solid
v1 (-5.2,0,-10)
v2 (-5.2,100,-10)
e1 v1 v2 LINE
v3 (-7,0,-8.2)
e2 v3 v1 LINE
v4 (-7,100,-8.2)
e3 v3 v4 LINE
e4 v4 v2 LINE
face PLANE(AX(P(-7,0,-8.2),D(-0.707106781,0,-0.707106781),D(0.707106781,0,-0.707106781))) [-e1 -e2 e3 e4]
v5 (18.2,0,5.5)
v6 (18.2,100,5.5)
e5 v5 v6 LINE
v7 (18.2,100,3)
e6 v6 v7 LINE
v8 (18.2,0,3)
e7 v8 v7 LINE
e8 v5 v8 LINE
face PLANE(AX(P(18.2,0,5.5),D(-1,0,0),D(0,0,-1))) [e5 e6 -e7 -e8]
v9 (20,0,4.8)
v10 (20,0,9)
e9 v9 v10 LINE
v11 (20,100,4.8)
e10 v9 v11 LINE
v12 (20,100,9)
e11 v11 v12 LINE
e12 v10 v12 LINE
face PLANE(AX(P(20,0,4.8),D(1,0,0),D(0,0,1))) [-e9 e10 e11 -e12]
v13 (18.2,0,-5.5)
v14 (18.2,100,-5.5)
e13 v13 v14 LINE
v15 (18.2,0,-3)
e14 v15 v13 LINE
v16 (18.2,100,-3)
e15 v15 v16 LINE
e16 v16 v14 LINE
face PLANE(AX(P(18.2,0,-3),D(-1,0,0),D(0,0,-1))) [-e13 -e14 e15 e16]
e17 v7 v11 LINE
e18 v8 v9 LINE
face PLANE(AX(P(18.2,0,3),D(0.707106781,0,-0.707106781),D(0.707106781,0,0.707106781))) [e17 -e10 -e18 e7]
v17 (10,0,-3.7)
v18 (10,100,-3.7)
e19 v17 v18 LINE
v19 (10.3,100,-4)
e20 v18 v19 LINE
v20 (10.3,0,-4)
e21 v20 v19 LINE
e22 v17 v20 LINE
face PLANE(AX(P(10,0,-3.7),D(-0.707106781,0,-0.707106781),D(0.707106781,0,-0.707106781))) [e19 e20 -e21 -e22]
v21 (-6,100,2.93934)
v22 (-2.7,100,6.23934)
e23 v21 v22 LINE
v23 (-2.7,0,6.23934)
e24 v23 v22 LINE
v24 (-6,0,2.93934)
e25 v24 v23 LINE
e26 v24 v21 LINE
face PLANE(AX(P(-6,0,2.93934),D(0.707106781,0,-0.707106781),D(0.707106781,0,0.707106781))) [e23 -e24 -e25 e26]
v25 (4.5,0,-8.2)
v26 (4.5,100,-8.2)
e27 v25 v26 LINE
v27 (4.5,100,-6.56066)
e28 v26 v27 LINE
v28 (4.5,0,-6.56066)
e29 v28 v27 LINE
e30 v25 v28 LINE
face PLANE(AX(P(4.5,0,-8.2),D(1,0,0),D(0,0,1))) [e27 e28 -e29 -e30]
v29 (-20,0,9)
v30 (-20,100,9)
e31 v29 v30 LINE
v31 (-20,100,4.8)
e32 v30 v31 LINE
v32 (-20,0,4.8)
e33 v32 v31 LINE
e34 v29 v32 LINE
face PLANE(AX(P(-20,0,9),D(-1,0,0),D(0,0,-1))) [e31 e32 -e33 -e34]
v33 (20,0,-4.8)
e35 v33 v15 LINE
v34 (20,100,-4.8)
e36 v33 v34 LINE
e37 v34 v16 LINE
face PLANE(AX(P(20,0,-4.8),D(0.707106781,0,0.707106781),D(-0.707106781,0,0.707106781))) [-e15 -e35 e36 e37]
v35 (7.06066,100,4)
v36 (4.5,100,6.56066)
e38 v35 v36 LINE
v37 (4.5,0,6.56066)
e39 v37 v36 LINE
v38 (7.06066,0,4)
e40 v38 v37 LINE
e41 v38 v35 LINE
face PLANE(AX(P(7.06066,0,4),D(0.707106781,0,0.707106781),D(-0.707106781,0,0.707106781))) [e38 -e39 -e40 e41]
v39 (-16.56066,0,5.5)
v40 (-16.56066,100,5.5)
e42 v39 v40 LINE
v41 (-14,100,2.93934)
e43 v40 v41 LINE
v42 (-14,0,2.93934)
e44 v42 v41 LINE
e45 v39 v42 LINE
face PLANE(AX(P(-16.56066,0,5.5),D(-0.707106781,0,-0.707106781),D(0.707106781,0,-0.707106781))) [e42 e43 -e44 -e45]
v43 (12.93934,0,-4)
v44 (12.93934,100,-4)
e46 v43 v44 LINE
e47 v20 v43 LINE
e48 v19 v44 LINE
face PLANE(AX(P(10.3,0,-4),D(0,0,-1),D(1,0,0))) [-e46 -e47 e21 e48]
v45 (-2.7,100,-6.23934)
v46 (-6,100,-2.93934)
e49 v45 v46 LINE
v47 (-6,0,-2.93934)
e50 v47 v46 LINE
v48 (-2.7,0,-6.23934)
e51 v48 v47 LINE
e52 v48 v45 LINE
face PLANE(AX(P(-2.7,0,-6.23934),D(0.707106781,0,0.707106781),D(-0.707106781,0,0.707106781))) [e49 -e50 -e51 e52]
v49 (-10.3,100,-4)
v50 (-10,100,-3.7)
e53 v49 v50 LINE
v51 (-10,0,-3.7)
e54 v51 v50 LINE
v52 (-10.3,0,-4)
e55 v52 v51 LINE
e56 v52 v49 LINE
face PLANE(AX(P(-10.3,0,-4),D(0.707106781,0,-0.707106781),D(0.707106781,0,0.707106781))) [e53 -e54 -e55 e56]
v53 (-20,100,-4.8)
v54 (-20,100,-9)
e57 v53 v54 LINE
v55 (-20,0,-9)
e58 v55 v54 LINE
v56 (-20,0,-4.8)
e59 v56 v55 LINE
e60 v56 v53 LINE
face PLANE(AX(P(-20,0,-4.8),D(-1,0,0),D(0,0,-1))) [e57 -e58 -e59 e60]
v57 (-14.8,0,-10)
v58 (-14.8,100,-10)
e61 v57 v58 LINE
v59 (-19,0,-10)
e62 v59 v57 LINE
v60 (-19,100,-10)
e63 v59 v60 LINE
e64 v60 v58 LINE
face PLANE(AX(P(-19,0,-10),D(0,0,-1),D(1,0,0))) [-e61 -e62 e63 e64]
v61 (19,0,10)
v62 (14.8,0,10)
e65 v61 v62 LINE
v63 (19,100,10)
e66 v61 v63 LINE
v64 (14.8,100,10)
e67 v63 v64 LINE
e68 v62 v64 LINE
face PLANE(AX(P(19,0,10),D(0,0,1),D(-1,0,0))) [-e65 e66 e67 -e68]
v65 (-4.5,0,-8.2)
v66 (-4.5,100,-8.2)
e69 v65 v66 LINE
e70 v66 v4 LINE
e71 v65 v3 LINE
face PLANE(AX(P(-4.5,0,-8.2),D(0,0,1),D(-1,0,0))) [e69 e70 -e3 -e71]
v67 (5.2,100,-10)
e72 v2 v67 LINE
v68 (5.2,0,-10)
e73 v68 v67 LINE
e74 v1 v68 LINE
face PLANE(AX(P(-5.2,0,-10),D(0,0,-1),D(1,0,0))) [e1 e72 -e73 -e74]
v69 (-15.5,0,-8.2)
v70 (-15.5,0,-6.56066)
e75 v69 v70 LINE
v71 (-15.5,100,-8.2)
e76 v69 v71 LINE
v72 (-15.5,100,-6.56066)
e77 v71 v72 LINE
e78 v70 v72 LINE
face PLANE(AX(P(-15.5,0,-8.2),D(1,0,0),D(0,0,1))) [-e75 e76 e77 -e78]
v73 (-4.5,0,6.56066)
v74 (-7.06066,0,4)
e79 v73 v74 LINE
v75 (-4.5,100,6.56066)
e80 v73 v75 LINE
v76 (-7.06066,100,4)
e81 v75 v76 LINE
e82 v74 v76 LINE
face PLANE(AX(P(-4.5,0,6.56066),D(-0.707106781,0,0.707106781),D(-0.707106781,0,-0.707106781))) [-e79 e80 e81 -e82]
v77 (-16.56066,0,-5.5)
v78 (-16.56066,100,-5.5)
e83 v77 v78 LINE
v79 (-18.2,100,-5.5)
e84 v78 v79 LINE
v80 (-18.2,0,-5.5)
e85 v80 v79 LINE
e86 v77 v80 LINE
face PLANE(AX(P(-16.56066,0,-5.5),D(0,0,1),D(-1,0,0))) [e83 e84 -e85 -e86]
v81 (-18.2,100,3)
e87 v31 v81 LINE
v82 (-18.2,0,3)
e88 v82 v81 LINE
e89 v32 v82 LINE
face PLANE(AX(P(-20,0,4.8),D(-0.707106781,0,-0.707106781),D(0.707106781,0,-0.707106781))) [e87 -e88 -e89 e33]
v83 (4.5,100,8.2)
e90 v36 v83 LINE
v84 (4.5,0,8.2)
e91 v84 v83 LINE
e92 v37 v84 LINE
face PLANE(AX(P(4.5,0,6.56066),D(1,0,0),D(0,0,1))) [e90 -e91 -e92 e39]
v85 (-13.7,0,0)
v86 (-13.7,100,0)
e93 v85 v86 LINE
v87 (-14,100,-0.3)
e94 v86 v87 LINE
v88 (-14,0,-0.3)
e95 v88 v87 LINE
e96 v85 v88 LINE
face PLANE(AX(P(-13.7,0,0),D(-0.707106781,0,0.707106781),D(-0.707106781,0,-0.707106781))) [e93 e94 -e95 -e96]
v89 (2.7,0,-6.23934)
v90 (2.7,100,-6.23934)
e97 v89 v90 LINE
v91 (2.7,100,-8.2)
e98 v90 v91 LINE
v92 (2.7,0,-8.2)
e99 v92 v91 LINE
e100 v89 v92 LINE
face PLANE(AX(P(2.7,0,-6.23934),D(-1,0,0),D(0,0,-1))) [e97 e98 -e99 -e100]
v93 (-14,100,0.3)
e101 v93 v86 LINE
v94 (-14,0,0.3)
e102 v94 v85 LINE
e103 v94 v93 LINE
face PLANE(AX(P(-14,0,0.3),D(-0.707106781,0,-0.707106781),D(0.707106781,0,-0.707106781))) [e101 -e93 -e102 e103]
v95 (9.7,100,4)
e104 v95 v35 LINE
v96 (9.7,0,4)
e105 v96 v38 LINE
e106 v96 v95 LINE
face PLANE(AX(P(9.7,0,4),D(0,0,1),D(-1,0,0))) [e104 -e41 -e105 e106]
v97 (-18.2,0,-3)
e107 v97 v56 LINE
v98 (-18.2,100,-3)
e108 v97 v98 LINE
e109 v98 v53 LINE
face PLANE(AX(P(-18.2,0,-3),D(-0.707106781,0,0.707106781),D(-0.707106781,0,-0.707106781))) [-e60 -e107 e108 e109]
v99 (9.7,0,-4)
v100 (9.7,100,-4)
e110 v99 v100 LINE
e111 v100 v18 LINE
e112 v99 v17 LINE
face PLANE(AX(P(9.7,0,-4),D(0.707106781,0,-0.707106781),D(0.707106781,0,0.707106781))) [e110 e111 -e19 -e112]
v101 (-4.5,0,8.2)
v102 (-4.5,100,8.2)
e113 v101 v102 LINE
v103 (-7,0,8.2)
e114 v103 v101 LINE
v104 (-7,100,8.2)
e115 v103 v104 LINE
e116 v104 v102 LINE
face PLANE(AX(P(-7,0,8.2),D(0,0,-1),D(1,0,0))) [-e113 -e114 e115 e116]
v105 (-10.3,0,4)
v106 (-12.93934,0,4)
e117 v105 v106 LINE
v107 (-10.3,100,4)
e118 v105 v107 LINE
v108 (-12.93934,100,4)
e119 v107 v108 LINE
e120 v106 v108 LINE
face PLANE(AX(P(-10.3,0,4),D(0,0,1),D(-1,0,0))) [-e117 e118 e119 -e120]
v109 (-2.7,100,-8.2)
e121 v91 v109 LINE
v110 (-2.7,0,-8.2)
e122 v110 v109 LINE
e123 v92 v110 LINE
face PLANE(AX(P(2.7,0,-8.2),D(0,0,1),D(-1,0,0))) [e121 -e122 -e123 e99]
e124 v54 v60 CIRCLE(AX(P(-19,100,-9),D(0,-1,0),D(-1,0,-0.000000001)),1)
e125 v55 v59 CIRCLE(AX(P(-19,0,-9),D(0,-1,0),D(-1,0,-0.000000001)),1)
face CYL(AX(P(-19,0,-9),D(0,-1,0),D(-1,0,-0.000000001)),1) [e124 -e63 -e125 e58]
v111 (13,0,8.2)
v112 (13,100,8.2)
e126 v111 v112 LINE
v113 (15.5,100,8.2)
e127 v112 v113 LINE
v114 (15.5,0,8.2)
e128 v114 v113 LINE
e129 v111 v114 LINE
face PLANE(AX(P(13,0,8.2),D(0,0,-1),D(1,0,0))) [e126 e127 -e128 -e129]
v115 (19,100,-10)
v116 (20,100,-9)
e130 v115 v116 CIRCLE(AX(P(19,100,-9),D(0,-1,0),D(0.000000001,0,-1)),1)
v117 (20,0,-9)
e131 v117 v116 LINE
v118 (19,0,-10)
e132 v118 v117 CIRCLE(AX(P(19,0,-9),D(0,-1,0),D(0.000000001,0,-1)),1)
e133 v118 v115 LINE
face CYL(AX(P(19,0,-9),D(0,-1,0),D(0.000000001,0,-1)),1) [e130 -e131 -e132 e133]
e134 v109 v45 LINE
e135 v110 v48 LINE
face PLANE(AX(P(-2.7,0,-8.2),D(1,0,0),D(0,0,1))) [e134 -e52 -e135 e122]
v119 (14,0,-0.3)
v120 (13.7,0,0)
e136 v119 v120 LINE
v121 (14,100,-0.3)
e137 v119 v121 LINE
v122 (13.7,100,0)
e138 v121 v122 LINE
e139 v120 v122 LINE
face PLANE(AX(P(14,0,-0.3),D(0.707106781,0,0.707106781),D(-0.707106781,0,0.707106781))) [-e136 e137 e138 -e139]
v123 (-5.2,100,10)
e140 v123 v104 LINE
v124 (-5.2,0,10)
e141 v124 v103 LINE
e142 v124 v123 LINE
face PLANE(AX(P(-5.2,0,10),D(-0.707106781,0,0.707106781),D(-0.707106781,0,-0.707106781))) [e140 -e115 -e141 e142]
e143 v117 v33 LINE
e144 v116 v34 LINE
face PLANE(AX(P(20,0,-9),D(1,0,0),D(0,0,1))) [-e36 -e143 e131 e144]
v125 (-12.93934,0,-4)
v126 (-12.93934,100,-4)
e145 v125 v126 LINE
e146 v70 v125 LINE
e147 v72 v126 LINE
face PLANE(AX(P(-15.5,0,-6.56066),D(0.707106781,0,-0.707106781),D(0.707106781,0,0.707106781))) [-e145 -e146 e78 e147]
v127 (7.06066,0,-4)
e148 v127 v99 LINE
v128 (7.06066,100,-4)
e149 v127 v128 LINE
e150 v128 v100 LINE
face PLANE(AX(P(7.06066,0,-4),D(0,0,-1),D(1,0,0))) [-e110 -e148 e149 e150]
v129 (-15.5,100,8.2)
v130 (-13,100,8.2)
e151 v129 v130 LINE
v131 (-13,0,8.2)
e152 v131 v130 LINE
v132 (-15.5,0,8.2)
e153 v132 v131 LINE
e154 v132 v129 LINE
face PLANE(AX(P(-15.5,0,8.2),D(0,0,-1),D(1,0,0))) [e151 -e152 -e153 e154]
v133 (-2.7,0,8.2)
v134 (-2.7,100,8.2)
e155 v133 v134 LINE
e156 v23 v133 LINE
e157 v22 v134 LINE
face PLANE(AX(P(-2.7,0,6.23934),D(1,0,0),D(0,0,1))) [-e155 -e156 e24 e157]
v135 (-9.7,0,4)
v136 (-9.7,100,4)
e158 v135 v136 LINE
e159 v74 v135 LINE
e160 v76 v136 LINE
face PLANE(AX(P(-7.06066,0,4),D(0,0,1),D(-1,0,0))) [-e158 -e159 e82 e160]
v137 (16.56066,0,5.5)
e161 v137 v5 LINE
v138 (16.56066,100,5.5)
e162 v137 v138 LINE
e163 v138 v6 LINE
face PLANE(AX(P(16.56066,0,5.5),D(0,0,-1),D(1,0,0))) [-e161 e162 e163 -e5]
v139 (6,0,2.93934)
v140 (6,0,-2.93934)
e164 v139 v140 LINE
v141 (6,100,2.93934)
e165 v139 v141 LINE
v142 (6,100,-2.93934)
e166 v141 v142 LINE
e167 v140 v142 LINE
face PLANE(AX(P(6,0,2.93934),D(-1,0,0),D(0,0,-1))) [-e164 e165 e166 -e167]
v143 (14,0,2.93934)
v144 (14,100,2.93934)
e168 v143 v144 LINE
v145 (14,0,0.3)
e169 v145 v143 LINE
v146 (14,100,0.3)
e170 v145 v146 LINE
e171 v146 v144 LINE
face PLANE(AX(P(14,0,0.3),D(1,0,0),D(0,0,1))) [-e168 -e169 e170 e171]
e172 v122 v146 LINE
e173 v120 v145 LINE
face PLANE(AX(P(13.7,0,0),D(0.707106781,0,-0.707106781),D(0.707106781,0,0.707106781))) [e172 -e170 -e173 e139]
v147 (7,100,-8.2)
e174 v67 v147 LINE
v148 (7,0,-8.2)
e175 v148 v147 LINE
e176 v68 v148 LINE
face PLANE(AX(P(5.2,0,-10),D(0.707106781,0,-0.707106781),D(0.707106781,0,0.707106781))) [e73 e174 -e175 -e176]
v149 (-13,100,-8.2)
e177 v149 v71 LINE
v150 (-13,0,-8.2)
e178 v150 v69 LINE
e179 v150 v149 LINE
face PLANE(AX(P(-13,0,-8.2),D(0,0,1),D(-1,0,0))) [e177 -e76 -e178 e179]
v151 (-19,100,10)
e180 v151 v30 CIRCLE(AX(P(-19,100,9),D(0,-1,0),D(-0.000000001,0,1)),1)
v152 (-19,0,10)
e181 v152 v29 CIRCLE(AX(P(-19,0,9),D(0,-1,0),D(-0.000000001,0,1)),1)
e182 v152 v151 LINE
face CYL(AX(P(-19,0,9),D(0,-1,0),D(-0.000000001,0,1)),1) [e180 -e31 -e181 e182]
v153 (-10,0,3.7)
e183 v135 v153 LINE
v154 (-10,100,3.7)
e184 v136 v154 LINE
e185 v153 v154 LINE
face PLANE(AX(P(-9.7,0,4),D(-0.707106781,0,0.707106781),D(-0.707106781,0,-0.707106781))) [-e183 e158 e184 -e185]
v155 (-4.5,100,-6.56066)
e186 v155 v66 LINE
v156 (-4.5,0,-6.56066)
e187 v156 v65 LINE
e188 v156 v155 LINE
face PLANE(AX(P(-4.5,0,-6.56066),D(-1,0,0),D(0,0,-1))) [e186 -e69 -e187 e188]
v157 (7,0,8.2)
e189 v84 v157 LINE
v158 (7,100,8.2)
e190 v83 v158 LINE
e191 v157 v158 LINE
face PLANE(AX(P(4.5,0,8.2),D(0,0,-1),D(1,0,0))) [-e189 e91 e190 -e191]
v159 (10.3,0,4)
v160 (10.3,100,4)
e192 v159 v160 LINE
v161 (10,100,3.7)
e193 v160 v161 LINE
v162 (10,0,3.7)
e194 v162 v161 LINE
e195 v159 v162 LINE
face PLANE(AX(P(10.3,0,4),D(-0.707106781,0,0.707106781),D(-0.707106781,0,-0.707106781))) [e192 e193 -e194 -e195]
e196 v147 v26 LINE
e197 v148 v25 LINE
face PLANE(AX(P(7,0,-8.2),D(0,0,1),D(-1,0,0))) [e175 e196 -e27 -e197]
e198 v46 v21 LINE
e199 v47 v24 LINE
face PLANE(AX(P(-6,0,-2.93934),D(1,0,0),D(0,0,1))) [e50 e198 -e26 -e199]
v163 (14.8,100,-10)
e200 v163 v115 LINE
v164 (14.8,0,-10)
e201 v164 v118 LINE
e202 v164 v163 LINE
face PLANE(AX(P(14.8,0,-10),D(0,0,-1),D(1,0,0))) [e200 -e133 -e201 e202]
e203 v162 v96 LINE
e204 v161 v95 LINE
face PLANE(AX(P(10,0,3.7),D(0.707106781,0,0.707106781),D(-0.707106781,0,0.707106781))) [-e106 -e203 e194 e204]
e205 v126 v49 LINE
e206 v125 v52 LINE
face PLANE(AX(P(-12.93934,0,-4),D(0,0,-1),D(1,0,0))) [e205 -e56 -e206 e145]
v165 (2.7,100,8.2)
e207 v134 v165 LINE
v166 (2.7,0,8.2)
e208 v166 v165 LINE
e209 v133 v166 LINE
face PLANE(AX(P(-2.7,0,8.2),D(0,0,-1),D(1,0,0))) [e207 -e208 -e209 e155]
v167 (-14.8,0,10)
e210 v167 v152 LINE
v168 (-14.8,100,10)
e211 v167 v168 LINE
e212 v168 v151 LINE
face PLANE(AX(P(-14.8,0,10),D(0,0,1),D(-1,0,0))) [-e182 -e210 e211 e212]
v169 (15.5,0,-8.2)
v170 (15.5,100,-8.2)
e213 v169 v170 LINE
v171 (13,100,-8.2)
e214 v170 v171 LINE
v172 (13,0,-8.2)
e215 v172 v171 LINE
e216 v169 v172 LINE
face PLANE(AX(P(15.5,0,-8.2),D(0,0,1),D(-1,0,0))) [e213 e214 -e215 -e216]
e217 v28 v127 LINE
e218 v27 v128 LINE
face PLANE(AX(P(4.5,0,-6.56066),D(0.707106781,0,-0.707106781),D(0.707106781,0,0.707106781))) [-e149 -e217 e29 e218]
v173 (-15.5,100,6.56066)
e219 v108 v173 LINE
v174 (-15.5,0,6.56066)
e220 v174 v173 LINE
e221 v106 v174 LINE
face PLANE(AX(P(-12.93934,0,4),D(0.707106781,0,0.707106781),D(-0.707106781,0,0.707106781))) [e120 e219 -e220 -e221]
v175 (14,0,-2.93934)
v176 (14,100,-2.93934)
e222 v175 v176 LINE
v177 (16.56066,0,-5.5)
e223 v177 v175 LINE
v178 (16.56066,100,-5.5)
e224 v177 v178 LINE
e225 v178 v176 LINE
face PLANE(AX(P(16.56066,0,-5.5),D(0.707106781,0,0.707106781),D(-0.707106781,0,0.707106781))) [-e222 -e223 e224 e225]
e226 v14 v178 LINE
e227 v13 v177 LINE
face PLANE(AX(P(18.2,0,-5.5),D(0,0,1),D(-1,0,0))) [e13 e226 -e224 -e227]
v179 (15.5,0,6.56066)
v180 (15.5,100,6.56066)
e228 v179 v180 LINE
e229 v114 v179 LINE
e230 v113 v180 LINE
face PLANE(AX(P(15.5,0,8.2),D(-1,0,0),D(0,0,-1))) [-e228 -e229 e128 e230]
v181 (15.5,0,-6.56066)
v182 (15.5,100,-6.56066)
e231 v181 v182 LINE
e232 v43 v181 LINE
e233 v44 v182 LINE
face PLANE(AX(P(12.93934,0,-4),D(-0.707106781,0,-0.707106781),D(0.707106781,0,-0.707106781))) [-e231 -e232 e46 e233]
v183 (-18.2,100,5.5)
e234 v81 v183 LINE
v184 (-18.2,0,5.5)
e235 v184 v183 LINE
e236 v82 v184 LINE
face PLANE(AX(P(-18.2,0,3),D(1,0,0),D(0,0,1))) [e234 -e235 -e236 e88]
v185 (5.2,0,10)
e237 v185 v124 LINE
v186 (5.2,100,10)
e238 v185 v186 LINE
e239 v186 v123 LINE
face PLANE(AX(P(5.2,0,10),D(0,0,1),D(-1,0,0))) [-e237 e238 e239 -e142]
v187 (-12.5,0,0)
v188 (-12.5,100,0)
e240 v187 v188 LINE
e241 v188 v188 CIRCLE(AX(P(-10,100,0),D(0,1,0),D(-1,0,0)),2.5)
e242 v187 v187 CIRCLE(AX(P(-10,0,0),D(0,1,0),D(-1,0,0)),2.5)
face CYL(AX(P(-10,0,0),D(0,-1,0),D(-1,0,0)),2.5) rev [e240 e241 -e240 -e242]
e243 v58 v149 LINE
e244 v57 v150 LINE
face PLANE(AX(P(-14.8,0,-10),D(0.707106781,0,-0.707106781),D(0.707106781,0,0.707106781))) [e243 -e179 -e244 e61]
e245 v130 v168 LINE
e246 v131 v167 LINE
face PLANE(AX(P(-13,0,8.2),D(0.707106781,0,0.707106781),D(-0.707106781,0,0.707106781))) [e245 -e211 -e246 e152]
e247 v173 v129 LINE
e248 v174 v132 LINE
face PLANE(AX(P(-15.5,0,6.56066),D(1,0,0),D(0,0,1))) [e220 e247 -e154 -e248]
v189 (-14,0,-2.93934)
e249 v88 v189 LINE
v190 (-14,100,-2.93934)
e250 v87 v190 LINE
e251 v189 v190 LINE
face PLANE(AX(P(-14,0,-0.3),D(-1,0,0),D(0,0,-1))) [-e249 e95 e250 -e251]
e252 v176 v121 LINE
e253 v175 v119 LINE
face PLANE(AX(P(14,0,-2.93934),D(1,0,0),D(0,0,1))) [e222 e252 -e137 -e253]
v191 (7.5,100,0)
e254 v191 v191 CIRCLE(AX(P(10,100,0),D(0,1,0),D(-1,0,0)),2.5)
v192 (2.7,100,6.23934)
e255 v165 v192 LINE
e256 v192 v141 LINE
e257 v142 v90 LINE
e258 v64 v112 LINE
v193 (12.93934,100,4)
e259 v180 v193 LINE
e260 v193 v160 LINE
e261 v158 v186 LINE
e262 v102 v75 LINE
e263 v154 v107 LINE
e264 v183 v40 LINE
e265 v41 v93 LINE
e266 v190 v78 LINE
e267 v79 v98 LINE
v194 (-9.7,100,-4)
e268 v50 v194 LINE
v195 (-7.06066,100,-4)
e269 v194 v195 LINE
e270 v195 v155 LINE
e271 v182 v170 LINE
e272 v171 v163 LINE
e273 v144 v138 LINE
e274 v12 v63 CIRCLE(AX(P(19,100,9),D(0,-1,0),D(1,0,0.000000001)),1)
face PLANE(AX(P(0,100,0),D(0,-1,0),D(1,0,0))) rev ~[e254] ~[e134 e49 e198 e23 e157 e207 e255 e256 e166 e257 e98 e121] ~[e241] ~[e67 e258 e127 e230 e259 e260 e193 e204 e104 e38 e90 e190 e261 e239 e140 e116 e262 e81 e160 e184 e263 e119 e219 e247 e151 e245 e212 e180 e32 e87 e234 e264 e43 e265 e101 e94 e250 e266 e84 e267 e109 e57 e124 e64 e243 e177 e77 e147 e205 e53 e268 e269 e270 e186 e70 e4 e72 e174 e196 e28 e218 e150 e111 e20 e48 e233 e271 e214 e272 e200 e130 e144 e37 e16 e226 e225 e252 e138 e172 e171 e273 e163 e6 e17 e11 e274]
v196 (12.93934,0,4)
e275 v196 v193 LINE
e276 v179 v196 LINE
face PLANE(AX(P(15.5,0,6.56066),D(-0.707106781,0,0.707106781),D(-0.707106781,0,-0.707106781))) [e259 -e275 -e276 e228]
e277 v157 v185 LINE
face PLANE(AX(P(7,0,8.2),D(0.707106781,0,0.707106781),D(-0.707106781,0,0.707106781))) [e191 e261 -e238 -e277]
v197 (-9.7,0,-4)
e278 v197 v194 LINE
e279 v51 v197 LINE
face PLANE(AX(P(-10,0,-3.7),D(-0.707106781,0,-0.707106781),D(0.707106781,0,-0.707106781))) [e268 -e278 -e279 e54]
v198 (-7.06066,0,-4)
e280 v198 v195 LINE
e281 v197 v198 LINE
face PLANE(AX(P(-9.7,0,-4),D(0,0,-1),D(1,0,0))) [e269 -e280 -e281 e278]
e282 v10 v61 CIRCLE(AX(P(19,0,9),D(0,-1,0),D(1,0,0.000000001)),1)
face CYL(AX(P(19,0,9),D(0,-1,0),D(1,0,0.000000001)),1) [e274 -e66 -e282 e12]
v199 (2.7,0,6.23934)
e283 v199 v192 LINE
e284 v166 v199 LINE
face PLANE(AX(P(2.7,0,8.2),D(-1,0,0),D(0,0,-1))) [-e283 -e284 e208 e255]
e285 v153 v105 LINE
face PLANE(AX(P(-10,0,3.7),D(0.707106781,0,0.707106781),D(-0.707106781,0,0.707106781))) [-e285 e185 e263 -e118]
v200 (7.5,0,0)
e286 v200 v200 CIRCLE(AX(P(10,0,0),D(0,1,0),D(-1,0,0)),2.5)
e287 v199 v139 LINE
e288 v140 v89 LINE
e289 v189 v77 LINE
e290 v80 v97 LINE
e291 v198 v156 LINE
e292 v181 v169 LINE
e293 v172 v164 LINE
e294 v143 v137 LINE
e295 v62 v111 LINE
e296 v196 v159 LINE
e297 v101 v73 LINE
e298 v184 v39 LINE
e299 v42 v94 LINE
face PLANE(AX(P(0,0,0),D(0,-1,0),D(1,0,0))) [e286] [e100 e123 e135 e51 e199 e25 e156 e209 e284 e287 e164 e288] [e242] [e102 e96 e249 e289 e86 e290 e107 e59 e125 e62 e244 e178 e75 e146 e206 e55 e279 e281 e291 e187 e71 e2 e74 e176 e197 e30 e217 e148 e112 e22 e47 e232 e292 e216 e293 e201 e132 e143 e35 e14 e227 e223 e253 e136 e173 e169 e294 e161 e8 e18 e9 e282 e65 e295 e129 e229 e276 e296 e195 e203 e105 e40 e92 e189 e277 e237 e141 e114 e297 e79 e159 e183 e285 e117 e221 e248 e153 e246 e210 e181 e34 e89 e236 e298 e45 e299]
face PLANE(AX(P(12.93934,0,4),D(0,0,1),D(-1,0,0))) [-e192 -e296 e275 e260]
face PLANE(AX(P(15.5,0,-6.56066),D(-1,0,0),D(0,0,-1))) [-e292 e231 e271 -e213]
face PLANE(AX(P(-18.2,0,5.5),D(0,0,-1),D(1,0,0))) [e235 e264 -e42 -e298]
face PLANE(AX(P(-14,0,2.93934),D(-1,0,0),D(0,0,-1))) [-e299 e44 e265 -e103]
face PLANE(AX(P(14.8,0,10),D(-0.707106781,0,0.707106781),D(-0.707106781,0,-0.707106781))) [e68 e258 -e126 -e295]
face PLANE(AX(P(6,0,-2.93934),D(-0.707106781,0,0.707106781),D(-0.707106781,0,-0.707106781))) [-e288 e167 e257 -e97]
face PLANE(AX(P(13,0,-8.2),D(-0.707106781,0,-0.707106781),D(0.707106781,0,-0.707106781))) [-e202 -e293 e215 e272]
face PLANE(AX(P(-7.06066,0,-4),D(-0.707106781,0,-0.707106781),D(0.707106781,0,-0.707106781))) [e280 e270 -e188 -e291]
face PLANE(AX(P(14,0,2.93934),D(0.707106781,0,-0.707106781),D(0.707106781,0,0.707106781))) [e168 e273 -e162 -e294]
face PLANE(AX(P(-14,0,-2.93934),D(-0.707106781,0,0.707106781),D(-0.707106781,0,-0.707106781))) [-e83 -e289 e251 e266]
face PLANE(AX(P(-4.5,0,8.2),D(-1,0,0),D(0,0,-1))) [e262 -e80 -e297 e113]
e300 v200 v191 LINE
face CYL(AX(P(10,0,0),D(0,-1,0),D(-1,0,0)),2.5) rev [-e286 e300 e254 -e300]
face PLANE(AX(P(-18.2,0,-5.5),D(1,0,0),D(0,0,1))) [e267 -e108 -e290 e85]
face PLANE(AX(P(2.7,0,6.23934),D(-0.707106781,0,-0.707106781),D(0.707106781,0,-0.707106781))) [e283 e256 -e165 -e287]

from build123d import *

# Parameters (mm, degrees)
SKETCH13_R                                  = 2.5
RETANGULAR_PF20_12_PERFIL_2040_V_SLOT_DEPTH = 100


with BuildPart() as part:
    # Sketch13 → Retangular PF20-12 - PERFIL 2040 V-SLOT(1) (new body)
    with BuildSketch(Plane(origin=(0, 0, 0), x_dir=(-1, 0, 0), z_dir=(0, 1, 0))):
        with BuildLine():
            Line((-14.8, 10), (-13, 8.2))
            Line((-13, 8.2), (-15.5, 8.2))
            Line((-15.5, 8.2), (-15.5, 6.560660172))
            Line((-15.5, 6.560660172), (-12.939339828, 4))
            Line((-12.939339828, 4), (-10.3, 4))
            Line((-10.3, 4), (-10, 3.7))
            Line((-10, 3.7), (-9.7, 4))
            Line((-9.7, 4), (-7.060660172, 4))
            Line((-7.060660172, 4), (-4.5, 6.560660172))
            Line((-4.5, 6.560660172), (-4.5, 8.2))
            Line((-4.5, 8.2), (-7, 8.2))
            Line((-7, 8.2), (-5.2, 10))
            Line((-5.2, 10), (5.2, 10))
            Line((5.2, 10), (7, 8.2))
            Line((7, 8.2), (4.5, 8.2))
            Line((4.5, 8.2), (4.5, 6.560660172))
            Line((4.5, 6.560660172), (7.060660172, 4))
            Line((7.060660172, 4), (9.7, 4))
            Line((9.7, 4), (10, 3.7))
            Line((10, 3.7), (10.3, 4))
            Line((10.3, 4), (12.939339828, 4))
            Line((12.939339828, 4), (15.5, 6.560660172))
            Line((15.5, 6.560660172), (15.5, 8.2))
            Line((15.5, 8.2), (13, 8.2))
            Line((13, 8.2), (14.8, 10))
            Line((14.8, 10), (19, 10))
            ThreePointArc((19, 10), (19.707106781, 9.707106781), (20, 9))
            Line((20, 9), (20, 4.8))
            Line((20, 4.8), (18.2, 3))
            Line((18.2, 3), (18.2, 5.5))
            Line((18.2, 5.5), (16.560660172, 5.5))
            Line((16.560660172, 5.5), (14, 2.939339828))
            Line((14, 2.939339828), (14, 0.3))
            Line((14, 0.3), (13.7, 0))
            Line((13.7, 0), (14, -0.3))
            Line((14, -0.3), (14, -2.939339828))
            Line((14, -2.939339828), (16.560660172, -5.5))
            Line((16.560660172, -5.5), (18.2, -5.5))
            Line((18.2, -5.5), (18.2, -3))
            Line((18.2, -3), (20, -4.8))
            Line((20, -4.8), (20, -9))
            ThreePointArc((20, -9), (19.707106781, -9.707106781), (19, -10))
            Line((19, -10), (14.8, -10))
            Line((14.8, -10), (13, -8.2))
            Line((13, -8.2), (15.5, -8.2))
            Line((15.5, -8.2), (15.5, -6.560660172))
            Line((15.5, -6.560660172), (12.939339828, -4))
            Line((12.939339828, -4), (10.3, -4))
            Line((10.3, -4), (10, -3.7))
            Line((10, -3.7), (9.7, -4))
            Line((9.7, -4), (7.060660172, -4))
            Line((7.060660172, -4), (4.5, -6.560660172))
            Line((4.5, -6.560660172), (4.5, -8.2))
            Line((4.5, -8.2), (7, -8.2))
            Line((7, -8.2), (5.2, -10))
            Line((5.2, -10), (-5.2, -10))
            Line((-5.2, -10), (-7, -8.2))
            Line((-7, -8.2), (-4.5, -8.2))
            Line((-4.5, -8.2), (-4.5, -6.560660172))
            Line((-4.5, -6.560660172), (-7.060660172, -4))
            Line((-7.060660172, -4), (-9.7, -4))
            Line((-9.7, -4), (-10, -3.7))
            Line((-10, -3.7), (-10.3, -4))
            Line((-10.3, -4), (-12.939339828, -4))
            Line((-12.939339828, -4), (-15.5, -6.560660172))
            Line((-15.5, -6.560660172), (-15.5, -8.2))
            Line((-15.5, -8.2), (-13, -8.2))
            Line((-13, -8.2), (-14.8, -10))
            Line((-14.8, -10), (-19, -10))
            ThreePointArc((-19, -10), (-19.707106781, -9.707106781), (-20, -9))
            Line((-20, -9), (-20, -4.8))
            Line((-20, -4.8), (-18.2, -3))
            Line((-18.2, -3), (-18.2, -5.5))
            Line((-18.2, -5.5), (-16.560660172, -5.5))
            Line((-16.560660172, -5.5), (-14, -2.939339828))
            Line((-14, -2.939339828), (-14, -0.3))
            Line((-14, -0.3), (-13.7, 0))
            Line((-13.7, 0), (-14, 0.3))
            Line((-14, 0.3), (-14, 2.939339828))
            Line((-14, 2.939339828), (-16.560660172, 5.5))
            Line((-16.560660172, 5.5), (-18.2, 5.5))
            Line((-18.2, 5.5), (-18.2, 3))
            Line((-18.2, 3), (-20, 4.8))
            Line((-20, 4.8), (-20, 9))
            ThreePointArc((-20, 9), (-19.707106781, 9.707106781), (-19, 10))
            Line((-19, 10), (-14.8, 10))
        make_face()
        with Locations((-10, 0)):
            Circle(SKETCH13_R, mode=Mode.SUBTRACT)
        with Locations((10, 0)):
            Circle(SKETCH13_R, mode=Mode.SUBTRACT)
        Polygon((-2.7, 8.2), (-2.7, 6.239339828), (-6, 2.939339828), (-6, -2.939339828), (-2.7, -6.239339828), (-2.7, -8.2), (2.7, -8.2), (2.7, -6.239339828), (6, -2.939339828), (6, 2.939339828), (2.7, 6.239339828), (2.7, 8.2), align=None, mode=Mode.SUBTRACT)
    extrude(amount=RETANGULAR_PF20_12_PERFIL_2040_V_SLOT_DEPTH)


solid = part.part
